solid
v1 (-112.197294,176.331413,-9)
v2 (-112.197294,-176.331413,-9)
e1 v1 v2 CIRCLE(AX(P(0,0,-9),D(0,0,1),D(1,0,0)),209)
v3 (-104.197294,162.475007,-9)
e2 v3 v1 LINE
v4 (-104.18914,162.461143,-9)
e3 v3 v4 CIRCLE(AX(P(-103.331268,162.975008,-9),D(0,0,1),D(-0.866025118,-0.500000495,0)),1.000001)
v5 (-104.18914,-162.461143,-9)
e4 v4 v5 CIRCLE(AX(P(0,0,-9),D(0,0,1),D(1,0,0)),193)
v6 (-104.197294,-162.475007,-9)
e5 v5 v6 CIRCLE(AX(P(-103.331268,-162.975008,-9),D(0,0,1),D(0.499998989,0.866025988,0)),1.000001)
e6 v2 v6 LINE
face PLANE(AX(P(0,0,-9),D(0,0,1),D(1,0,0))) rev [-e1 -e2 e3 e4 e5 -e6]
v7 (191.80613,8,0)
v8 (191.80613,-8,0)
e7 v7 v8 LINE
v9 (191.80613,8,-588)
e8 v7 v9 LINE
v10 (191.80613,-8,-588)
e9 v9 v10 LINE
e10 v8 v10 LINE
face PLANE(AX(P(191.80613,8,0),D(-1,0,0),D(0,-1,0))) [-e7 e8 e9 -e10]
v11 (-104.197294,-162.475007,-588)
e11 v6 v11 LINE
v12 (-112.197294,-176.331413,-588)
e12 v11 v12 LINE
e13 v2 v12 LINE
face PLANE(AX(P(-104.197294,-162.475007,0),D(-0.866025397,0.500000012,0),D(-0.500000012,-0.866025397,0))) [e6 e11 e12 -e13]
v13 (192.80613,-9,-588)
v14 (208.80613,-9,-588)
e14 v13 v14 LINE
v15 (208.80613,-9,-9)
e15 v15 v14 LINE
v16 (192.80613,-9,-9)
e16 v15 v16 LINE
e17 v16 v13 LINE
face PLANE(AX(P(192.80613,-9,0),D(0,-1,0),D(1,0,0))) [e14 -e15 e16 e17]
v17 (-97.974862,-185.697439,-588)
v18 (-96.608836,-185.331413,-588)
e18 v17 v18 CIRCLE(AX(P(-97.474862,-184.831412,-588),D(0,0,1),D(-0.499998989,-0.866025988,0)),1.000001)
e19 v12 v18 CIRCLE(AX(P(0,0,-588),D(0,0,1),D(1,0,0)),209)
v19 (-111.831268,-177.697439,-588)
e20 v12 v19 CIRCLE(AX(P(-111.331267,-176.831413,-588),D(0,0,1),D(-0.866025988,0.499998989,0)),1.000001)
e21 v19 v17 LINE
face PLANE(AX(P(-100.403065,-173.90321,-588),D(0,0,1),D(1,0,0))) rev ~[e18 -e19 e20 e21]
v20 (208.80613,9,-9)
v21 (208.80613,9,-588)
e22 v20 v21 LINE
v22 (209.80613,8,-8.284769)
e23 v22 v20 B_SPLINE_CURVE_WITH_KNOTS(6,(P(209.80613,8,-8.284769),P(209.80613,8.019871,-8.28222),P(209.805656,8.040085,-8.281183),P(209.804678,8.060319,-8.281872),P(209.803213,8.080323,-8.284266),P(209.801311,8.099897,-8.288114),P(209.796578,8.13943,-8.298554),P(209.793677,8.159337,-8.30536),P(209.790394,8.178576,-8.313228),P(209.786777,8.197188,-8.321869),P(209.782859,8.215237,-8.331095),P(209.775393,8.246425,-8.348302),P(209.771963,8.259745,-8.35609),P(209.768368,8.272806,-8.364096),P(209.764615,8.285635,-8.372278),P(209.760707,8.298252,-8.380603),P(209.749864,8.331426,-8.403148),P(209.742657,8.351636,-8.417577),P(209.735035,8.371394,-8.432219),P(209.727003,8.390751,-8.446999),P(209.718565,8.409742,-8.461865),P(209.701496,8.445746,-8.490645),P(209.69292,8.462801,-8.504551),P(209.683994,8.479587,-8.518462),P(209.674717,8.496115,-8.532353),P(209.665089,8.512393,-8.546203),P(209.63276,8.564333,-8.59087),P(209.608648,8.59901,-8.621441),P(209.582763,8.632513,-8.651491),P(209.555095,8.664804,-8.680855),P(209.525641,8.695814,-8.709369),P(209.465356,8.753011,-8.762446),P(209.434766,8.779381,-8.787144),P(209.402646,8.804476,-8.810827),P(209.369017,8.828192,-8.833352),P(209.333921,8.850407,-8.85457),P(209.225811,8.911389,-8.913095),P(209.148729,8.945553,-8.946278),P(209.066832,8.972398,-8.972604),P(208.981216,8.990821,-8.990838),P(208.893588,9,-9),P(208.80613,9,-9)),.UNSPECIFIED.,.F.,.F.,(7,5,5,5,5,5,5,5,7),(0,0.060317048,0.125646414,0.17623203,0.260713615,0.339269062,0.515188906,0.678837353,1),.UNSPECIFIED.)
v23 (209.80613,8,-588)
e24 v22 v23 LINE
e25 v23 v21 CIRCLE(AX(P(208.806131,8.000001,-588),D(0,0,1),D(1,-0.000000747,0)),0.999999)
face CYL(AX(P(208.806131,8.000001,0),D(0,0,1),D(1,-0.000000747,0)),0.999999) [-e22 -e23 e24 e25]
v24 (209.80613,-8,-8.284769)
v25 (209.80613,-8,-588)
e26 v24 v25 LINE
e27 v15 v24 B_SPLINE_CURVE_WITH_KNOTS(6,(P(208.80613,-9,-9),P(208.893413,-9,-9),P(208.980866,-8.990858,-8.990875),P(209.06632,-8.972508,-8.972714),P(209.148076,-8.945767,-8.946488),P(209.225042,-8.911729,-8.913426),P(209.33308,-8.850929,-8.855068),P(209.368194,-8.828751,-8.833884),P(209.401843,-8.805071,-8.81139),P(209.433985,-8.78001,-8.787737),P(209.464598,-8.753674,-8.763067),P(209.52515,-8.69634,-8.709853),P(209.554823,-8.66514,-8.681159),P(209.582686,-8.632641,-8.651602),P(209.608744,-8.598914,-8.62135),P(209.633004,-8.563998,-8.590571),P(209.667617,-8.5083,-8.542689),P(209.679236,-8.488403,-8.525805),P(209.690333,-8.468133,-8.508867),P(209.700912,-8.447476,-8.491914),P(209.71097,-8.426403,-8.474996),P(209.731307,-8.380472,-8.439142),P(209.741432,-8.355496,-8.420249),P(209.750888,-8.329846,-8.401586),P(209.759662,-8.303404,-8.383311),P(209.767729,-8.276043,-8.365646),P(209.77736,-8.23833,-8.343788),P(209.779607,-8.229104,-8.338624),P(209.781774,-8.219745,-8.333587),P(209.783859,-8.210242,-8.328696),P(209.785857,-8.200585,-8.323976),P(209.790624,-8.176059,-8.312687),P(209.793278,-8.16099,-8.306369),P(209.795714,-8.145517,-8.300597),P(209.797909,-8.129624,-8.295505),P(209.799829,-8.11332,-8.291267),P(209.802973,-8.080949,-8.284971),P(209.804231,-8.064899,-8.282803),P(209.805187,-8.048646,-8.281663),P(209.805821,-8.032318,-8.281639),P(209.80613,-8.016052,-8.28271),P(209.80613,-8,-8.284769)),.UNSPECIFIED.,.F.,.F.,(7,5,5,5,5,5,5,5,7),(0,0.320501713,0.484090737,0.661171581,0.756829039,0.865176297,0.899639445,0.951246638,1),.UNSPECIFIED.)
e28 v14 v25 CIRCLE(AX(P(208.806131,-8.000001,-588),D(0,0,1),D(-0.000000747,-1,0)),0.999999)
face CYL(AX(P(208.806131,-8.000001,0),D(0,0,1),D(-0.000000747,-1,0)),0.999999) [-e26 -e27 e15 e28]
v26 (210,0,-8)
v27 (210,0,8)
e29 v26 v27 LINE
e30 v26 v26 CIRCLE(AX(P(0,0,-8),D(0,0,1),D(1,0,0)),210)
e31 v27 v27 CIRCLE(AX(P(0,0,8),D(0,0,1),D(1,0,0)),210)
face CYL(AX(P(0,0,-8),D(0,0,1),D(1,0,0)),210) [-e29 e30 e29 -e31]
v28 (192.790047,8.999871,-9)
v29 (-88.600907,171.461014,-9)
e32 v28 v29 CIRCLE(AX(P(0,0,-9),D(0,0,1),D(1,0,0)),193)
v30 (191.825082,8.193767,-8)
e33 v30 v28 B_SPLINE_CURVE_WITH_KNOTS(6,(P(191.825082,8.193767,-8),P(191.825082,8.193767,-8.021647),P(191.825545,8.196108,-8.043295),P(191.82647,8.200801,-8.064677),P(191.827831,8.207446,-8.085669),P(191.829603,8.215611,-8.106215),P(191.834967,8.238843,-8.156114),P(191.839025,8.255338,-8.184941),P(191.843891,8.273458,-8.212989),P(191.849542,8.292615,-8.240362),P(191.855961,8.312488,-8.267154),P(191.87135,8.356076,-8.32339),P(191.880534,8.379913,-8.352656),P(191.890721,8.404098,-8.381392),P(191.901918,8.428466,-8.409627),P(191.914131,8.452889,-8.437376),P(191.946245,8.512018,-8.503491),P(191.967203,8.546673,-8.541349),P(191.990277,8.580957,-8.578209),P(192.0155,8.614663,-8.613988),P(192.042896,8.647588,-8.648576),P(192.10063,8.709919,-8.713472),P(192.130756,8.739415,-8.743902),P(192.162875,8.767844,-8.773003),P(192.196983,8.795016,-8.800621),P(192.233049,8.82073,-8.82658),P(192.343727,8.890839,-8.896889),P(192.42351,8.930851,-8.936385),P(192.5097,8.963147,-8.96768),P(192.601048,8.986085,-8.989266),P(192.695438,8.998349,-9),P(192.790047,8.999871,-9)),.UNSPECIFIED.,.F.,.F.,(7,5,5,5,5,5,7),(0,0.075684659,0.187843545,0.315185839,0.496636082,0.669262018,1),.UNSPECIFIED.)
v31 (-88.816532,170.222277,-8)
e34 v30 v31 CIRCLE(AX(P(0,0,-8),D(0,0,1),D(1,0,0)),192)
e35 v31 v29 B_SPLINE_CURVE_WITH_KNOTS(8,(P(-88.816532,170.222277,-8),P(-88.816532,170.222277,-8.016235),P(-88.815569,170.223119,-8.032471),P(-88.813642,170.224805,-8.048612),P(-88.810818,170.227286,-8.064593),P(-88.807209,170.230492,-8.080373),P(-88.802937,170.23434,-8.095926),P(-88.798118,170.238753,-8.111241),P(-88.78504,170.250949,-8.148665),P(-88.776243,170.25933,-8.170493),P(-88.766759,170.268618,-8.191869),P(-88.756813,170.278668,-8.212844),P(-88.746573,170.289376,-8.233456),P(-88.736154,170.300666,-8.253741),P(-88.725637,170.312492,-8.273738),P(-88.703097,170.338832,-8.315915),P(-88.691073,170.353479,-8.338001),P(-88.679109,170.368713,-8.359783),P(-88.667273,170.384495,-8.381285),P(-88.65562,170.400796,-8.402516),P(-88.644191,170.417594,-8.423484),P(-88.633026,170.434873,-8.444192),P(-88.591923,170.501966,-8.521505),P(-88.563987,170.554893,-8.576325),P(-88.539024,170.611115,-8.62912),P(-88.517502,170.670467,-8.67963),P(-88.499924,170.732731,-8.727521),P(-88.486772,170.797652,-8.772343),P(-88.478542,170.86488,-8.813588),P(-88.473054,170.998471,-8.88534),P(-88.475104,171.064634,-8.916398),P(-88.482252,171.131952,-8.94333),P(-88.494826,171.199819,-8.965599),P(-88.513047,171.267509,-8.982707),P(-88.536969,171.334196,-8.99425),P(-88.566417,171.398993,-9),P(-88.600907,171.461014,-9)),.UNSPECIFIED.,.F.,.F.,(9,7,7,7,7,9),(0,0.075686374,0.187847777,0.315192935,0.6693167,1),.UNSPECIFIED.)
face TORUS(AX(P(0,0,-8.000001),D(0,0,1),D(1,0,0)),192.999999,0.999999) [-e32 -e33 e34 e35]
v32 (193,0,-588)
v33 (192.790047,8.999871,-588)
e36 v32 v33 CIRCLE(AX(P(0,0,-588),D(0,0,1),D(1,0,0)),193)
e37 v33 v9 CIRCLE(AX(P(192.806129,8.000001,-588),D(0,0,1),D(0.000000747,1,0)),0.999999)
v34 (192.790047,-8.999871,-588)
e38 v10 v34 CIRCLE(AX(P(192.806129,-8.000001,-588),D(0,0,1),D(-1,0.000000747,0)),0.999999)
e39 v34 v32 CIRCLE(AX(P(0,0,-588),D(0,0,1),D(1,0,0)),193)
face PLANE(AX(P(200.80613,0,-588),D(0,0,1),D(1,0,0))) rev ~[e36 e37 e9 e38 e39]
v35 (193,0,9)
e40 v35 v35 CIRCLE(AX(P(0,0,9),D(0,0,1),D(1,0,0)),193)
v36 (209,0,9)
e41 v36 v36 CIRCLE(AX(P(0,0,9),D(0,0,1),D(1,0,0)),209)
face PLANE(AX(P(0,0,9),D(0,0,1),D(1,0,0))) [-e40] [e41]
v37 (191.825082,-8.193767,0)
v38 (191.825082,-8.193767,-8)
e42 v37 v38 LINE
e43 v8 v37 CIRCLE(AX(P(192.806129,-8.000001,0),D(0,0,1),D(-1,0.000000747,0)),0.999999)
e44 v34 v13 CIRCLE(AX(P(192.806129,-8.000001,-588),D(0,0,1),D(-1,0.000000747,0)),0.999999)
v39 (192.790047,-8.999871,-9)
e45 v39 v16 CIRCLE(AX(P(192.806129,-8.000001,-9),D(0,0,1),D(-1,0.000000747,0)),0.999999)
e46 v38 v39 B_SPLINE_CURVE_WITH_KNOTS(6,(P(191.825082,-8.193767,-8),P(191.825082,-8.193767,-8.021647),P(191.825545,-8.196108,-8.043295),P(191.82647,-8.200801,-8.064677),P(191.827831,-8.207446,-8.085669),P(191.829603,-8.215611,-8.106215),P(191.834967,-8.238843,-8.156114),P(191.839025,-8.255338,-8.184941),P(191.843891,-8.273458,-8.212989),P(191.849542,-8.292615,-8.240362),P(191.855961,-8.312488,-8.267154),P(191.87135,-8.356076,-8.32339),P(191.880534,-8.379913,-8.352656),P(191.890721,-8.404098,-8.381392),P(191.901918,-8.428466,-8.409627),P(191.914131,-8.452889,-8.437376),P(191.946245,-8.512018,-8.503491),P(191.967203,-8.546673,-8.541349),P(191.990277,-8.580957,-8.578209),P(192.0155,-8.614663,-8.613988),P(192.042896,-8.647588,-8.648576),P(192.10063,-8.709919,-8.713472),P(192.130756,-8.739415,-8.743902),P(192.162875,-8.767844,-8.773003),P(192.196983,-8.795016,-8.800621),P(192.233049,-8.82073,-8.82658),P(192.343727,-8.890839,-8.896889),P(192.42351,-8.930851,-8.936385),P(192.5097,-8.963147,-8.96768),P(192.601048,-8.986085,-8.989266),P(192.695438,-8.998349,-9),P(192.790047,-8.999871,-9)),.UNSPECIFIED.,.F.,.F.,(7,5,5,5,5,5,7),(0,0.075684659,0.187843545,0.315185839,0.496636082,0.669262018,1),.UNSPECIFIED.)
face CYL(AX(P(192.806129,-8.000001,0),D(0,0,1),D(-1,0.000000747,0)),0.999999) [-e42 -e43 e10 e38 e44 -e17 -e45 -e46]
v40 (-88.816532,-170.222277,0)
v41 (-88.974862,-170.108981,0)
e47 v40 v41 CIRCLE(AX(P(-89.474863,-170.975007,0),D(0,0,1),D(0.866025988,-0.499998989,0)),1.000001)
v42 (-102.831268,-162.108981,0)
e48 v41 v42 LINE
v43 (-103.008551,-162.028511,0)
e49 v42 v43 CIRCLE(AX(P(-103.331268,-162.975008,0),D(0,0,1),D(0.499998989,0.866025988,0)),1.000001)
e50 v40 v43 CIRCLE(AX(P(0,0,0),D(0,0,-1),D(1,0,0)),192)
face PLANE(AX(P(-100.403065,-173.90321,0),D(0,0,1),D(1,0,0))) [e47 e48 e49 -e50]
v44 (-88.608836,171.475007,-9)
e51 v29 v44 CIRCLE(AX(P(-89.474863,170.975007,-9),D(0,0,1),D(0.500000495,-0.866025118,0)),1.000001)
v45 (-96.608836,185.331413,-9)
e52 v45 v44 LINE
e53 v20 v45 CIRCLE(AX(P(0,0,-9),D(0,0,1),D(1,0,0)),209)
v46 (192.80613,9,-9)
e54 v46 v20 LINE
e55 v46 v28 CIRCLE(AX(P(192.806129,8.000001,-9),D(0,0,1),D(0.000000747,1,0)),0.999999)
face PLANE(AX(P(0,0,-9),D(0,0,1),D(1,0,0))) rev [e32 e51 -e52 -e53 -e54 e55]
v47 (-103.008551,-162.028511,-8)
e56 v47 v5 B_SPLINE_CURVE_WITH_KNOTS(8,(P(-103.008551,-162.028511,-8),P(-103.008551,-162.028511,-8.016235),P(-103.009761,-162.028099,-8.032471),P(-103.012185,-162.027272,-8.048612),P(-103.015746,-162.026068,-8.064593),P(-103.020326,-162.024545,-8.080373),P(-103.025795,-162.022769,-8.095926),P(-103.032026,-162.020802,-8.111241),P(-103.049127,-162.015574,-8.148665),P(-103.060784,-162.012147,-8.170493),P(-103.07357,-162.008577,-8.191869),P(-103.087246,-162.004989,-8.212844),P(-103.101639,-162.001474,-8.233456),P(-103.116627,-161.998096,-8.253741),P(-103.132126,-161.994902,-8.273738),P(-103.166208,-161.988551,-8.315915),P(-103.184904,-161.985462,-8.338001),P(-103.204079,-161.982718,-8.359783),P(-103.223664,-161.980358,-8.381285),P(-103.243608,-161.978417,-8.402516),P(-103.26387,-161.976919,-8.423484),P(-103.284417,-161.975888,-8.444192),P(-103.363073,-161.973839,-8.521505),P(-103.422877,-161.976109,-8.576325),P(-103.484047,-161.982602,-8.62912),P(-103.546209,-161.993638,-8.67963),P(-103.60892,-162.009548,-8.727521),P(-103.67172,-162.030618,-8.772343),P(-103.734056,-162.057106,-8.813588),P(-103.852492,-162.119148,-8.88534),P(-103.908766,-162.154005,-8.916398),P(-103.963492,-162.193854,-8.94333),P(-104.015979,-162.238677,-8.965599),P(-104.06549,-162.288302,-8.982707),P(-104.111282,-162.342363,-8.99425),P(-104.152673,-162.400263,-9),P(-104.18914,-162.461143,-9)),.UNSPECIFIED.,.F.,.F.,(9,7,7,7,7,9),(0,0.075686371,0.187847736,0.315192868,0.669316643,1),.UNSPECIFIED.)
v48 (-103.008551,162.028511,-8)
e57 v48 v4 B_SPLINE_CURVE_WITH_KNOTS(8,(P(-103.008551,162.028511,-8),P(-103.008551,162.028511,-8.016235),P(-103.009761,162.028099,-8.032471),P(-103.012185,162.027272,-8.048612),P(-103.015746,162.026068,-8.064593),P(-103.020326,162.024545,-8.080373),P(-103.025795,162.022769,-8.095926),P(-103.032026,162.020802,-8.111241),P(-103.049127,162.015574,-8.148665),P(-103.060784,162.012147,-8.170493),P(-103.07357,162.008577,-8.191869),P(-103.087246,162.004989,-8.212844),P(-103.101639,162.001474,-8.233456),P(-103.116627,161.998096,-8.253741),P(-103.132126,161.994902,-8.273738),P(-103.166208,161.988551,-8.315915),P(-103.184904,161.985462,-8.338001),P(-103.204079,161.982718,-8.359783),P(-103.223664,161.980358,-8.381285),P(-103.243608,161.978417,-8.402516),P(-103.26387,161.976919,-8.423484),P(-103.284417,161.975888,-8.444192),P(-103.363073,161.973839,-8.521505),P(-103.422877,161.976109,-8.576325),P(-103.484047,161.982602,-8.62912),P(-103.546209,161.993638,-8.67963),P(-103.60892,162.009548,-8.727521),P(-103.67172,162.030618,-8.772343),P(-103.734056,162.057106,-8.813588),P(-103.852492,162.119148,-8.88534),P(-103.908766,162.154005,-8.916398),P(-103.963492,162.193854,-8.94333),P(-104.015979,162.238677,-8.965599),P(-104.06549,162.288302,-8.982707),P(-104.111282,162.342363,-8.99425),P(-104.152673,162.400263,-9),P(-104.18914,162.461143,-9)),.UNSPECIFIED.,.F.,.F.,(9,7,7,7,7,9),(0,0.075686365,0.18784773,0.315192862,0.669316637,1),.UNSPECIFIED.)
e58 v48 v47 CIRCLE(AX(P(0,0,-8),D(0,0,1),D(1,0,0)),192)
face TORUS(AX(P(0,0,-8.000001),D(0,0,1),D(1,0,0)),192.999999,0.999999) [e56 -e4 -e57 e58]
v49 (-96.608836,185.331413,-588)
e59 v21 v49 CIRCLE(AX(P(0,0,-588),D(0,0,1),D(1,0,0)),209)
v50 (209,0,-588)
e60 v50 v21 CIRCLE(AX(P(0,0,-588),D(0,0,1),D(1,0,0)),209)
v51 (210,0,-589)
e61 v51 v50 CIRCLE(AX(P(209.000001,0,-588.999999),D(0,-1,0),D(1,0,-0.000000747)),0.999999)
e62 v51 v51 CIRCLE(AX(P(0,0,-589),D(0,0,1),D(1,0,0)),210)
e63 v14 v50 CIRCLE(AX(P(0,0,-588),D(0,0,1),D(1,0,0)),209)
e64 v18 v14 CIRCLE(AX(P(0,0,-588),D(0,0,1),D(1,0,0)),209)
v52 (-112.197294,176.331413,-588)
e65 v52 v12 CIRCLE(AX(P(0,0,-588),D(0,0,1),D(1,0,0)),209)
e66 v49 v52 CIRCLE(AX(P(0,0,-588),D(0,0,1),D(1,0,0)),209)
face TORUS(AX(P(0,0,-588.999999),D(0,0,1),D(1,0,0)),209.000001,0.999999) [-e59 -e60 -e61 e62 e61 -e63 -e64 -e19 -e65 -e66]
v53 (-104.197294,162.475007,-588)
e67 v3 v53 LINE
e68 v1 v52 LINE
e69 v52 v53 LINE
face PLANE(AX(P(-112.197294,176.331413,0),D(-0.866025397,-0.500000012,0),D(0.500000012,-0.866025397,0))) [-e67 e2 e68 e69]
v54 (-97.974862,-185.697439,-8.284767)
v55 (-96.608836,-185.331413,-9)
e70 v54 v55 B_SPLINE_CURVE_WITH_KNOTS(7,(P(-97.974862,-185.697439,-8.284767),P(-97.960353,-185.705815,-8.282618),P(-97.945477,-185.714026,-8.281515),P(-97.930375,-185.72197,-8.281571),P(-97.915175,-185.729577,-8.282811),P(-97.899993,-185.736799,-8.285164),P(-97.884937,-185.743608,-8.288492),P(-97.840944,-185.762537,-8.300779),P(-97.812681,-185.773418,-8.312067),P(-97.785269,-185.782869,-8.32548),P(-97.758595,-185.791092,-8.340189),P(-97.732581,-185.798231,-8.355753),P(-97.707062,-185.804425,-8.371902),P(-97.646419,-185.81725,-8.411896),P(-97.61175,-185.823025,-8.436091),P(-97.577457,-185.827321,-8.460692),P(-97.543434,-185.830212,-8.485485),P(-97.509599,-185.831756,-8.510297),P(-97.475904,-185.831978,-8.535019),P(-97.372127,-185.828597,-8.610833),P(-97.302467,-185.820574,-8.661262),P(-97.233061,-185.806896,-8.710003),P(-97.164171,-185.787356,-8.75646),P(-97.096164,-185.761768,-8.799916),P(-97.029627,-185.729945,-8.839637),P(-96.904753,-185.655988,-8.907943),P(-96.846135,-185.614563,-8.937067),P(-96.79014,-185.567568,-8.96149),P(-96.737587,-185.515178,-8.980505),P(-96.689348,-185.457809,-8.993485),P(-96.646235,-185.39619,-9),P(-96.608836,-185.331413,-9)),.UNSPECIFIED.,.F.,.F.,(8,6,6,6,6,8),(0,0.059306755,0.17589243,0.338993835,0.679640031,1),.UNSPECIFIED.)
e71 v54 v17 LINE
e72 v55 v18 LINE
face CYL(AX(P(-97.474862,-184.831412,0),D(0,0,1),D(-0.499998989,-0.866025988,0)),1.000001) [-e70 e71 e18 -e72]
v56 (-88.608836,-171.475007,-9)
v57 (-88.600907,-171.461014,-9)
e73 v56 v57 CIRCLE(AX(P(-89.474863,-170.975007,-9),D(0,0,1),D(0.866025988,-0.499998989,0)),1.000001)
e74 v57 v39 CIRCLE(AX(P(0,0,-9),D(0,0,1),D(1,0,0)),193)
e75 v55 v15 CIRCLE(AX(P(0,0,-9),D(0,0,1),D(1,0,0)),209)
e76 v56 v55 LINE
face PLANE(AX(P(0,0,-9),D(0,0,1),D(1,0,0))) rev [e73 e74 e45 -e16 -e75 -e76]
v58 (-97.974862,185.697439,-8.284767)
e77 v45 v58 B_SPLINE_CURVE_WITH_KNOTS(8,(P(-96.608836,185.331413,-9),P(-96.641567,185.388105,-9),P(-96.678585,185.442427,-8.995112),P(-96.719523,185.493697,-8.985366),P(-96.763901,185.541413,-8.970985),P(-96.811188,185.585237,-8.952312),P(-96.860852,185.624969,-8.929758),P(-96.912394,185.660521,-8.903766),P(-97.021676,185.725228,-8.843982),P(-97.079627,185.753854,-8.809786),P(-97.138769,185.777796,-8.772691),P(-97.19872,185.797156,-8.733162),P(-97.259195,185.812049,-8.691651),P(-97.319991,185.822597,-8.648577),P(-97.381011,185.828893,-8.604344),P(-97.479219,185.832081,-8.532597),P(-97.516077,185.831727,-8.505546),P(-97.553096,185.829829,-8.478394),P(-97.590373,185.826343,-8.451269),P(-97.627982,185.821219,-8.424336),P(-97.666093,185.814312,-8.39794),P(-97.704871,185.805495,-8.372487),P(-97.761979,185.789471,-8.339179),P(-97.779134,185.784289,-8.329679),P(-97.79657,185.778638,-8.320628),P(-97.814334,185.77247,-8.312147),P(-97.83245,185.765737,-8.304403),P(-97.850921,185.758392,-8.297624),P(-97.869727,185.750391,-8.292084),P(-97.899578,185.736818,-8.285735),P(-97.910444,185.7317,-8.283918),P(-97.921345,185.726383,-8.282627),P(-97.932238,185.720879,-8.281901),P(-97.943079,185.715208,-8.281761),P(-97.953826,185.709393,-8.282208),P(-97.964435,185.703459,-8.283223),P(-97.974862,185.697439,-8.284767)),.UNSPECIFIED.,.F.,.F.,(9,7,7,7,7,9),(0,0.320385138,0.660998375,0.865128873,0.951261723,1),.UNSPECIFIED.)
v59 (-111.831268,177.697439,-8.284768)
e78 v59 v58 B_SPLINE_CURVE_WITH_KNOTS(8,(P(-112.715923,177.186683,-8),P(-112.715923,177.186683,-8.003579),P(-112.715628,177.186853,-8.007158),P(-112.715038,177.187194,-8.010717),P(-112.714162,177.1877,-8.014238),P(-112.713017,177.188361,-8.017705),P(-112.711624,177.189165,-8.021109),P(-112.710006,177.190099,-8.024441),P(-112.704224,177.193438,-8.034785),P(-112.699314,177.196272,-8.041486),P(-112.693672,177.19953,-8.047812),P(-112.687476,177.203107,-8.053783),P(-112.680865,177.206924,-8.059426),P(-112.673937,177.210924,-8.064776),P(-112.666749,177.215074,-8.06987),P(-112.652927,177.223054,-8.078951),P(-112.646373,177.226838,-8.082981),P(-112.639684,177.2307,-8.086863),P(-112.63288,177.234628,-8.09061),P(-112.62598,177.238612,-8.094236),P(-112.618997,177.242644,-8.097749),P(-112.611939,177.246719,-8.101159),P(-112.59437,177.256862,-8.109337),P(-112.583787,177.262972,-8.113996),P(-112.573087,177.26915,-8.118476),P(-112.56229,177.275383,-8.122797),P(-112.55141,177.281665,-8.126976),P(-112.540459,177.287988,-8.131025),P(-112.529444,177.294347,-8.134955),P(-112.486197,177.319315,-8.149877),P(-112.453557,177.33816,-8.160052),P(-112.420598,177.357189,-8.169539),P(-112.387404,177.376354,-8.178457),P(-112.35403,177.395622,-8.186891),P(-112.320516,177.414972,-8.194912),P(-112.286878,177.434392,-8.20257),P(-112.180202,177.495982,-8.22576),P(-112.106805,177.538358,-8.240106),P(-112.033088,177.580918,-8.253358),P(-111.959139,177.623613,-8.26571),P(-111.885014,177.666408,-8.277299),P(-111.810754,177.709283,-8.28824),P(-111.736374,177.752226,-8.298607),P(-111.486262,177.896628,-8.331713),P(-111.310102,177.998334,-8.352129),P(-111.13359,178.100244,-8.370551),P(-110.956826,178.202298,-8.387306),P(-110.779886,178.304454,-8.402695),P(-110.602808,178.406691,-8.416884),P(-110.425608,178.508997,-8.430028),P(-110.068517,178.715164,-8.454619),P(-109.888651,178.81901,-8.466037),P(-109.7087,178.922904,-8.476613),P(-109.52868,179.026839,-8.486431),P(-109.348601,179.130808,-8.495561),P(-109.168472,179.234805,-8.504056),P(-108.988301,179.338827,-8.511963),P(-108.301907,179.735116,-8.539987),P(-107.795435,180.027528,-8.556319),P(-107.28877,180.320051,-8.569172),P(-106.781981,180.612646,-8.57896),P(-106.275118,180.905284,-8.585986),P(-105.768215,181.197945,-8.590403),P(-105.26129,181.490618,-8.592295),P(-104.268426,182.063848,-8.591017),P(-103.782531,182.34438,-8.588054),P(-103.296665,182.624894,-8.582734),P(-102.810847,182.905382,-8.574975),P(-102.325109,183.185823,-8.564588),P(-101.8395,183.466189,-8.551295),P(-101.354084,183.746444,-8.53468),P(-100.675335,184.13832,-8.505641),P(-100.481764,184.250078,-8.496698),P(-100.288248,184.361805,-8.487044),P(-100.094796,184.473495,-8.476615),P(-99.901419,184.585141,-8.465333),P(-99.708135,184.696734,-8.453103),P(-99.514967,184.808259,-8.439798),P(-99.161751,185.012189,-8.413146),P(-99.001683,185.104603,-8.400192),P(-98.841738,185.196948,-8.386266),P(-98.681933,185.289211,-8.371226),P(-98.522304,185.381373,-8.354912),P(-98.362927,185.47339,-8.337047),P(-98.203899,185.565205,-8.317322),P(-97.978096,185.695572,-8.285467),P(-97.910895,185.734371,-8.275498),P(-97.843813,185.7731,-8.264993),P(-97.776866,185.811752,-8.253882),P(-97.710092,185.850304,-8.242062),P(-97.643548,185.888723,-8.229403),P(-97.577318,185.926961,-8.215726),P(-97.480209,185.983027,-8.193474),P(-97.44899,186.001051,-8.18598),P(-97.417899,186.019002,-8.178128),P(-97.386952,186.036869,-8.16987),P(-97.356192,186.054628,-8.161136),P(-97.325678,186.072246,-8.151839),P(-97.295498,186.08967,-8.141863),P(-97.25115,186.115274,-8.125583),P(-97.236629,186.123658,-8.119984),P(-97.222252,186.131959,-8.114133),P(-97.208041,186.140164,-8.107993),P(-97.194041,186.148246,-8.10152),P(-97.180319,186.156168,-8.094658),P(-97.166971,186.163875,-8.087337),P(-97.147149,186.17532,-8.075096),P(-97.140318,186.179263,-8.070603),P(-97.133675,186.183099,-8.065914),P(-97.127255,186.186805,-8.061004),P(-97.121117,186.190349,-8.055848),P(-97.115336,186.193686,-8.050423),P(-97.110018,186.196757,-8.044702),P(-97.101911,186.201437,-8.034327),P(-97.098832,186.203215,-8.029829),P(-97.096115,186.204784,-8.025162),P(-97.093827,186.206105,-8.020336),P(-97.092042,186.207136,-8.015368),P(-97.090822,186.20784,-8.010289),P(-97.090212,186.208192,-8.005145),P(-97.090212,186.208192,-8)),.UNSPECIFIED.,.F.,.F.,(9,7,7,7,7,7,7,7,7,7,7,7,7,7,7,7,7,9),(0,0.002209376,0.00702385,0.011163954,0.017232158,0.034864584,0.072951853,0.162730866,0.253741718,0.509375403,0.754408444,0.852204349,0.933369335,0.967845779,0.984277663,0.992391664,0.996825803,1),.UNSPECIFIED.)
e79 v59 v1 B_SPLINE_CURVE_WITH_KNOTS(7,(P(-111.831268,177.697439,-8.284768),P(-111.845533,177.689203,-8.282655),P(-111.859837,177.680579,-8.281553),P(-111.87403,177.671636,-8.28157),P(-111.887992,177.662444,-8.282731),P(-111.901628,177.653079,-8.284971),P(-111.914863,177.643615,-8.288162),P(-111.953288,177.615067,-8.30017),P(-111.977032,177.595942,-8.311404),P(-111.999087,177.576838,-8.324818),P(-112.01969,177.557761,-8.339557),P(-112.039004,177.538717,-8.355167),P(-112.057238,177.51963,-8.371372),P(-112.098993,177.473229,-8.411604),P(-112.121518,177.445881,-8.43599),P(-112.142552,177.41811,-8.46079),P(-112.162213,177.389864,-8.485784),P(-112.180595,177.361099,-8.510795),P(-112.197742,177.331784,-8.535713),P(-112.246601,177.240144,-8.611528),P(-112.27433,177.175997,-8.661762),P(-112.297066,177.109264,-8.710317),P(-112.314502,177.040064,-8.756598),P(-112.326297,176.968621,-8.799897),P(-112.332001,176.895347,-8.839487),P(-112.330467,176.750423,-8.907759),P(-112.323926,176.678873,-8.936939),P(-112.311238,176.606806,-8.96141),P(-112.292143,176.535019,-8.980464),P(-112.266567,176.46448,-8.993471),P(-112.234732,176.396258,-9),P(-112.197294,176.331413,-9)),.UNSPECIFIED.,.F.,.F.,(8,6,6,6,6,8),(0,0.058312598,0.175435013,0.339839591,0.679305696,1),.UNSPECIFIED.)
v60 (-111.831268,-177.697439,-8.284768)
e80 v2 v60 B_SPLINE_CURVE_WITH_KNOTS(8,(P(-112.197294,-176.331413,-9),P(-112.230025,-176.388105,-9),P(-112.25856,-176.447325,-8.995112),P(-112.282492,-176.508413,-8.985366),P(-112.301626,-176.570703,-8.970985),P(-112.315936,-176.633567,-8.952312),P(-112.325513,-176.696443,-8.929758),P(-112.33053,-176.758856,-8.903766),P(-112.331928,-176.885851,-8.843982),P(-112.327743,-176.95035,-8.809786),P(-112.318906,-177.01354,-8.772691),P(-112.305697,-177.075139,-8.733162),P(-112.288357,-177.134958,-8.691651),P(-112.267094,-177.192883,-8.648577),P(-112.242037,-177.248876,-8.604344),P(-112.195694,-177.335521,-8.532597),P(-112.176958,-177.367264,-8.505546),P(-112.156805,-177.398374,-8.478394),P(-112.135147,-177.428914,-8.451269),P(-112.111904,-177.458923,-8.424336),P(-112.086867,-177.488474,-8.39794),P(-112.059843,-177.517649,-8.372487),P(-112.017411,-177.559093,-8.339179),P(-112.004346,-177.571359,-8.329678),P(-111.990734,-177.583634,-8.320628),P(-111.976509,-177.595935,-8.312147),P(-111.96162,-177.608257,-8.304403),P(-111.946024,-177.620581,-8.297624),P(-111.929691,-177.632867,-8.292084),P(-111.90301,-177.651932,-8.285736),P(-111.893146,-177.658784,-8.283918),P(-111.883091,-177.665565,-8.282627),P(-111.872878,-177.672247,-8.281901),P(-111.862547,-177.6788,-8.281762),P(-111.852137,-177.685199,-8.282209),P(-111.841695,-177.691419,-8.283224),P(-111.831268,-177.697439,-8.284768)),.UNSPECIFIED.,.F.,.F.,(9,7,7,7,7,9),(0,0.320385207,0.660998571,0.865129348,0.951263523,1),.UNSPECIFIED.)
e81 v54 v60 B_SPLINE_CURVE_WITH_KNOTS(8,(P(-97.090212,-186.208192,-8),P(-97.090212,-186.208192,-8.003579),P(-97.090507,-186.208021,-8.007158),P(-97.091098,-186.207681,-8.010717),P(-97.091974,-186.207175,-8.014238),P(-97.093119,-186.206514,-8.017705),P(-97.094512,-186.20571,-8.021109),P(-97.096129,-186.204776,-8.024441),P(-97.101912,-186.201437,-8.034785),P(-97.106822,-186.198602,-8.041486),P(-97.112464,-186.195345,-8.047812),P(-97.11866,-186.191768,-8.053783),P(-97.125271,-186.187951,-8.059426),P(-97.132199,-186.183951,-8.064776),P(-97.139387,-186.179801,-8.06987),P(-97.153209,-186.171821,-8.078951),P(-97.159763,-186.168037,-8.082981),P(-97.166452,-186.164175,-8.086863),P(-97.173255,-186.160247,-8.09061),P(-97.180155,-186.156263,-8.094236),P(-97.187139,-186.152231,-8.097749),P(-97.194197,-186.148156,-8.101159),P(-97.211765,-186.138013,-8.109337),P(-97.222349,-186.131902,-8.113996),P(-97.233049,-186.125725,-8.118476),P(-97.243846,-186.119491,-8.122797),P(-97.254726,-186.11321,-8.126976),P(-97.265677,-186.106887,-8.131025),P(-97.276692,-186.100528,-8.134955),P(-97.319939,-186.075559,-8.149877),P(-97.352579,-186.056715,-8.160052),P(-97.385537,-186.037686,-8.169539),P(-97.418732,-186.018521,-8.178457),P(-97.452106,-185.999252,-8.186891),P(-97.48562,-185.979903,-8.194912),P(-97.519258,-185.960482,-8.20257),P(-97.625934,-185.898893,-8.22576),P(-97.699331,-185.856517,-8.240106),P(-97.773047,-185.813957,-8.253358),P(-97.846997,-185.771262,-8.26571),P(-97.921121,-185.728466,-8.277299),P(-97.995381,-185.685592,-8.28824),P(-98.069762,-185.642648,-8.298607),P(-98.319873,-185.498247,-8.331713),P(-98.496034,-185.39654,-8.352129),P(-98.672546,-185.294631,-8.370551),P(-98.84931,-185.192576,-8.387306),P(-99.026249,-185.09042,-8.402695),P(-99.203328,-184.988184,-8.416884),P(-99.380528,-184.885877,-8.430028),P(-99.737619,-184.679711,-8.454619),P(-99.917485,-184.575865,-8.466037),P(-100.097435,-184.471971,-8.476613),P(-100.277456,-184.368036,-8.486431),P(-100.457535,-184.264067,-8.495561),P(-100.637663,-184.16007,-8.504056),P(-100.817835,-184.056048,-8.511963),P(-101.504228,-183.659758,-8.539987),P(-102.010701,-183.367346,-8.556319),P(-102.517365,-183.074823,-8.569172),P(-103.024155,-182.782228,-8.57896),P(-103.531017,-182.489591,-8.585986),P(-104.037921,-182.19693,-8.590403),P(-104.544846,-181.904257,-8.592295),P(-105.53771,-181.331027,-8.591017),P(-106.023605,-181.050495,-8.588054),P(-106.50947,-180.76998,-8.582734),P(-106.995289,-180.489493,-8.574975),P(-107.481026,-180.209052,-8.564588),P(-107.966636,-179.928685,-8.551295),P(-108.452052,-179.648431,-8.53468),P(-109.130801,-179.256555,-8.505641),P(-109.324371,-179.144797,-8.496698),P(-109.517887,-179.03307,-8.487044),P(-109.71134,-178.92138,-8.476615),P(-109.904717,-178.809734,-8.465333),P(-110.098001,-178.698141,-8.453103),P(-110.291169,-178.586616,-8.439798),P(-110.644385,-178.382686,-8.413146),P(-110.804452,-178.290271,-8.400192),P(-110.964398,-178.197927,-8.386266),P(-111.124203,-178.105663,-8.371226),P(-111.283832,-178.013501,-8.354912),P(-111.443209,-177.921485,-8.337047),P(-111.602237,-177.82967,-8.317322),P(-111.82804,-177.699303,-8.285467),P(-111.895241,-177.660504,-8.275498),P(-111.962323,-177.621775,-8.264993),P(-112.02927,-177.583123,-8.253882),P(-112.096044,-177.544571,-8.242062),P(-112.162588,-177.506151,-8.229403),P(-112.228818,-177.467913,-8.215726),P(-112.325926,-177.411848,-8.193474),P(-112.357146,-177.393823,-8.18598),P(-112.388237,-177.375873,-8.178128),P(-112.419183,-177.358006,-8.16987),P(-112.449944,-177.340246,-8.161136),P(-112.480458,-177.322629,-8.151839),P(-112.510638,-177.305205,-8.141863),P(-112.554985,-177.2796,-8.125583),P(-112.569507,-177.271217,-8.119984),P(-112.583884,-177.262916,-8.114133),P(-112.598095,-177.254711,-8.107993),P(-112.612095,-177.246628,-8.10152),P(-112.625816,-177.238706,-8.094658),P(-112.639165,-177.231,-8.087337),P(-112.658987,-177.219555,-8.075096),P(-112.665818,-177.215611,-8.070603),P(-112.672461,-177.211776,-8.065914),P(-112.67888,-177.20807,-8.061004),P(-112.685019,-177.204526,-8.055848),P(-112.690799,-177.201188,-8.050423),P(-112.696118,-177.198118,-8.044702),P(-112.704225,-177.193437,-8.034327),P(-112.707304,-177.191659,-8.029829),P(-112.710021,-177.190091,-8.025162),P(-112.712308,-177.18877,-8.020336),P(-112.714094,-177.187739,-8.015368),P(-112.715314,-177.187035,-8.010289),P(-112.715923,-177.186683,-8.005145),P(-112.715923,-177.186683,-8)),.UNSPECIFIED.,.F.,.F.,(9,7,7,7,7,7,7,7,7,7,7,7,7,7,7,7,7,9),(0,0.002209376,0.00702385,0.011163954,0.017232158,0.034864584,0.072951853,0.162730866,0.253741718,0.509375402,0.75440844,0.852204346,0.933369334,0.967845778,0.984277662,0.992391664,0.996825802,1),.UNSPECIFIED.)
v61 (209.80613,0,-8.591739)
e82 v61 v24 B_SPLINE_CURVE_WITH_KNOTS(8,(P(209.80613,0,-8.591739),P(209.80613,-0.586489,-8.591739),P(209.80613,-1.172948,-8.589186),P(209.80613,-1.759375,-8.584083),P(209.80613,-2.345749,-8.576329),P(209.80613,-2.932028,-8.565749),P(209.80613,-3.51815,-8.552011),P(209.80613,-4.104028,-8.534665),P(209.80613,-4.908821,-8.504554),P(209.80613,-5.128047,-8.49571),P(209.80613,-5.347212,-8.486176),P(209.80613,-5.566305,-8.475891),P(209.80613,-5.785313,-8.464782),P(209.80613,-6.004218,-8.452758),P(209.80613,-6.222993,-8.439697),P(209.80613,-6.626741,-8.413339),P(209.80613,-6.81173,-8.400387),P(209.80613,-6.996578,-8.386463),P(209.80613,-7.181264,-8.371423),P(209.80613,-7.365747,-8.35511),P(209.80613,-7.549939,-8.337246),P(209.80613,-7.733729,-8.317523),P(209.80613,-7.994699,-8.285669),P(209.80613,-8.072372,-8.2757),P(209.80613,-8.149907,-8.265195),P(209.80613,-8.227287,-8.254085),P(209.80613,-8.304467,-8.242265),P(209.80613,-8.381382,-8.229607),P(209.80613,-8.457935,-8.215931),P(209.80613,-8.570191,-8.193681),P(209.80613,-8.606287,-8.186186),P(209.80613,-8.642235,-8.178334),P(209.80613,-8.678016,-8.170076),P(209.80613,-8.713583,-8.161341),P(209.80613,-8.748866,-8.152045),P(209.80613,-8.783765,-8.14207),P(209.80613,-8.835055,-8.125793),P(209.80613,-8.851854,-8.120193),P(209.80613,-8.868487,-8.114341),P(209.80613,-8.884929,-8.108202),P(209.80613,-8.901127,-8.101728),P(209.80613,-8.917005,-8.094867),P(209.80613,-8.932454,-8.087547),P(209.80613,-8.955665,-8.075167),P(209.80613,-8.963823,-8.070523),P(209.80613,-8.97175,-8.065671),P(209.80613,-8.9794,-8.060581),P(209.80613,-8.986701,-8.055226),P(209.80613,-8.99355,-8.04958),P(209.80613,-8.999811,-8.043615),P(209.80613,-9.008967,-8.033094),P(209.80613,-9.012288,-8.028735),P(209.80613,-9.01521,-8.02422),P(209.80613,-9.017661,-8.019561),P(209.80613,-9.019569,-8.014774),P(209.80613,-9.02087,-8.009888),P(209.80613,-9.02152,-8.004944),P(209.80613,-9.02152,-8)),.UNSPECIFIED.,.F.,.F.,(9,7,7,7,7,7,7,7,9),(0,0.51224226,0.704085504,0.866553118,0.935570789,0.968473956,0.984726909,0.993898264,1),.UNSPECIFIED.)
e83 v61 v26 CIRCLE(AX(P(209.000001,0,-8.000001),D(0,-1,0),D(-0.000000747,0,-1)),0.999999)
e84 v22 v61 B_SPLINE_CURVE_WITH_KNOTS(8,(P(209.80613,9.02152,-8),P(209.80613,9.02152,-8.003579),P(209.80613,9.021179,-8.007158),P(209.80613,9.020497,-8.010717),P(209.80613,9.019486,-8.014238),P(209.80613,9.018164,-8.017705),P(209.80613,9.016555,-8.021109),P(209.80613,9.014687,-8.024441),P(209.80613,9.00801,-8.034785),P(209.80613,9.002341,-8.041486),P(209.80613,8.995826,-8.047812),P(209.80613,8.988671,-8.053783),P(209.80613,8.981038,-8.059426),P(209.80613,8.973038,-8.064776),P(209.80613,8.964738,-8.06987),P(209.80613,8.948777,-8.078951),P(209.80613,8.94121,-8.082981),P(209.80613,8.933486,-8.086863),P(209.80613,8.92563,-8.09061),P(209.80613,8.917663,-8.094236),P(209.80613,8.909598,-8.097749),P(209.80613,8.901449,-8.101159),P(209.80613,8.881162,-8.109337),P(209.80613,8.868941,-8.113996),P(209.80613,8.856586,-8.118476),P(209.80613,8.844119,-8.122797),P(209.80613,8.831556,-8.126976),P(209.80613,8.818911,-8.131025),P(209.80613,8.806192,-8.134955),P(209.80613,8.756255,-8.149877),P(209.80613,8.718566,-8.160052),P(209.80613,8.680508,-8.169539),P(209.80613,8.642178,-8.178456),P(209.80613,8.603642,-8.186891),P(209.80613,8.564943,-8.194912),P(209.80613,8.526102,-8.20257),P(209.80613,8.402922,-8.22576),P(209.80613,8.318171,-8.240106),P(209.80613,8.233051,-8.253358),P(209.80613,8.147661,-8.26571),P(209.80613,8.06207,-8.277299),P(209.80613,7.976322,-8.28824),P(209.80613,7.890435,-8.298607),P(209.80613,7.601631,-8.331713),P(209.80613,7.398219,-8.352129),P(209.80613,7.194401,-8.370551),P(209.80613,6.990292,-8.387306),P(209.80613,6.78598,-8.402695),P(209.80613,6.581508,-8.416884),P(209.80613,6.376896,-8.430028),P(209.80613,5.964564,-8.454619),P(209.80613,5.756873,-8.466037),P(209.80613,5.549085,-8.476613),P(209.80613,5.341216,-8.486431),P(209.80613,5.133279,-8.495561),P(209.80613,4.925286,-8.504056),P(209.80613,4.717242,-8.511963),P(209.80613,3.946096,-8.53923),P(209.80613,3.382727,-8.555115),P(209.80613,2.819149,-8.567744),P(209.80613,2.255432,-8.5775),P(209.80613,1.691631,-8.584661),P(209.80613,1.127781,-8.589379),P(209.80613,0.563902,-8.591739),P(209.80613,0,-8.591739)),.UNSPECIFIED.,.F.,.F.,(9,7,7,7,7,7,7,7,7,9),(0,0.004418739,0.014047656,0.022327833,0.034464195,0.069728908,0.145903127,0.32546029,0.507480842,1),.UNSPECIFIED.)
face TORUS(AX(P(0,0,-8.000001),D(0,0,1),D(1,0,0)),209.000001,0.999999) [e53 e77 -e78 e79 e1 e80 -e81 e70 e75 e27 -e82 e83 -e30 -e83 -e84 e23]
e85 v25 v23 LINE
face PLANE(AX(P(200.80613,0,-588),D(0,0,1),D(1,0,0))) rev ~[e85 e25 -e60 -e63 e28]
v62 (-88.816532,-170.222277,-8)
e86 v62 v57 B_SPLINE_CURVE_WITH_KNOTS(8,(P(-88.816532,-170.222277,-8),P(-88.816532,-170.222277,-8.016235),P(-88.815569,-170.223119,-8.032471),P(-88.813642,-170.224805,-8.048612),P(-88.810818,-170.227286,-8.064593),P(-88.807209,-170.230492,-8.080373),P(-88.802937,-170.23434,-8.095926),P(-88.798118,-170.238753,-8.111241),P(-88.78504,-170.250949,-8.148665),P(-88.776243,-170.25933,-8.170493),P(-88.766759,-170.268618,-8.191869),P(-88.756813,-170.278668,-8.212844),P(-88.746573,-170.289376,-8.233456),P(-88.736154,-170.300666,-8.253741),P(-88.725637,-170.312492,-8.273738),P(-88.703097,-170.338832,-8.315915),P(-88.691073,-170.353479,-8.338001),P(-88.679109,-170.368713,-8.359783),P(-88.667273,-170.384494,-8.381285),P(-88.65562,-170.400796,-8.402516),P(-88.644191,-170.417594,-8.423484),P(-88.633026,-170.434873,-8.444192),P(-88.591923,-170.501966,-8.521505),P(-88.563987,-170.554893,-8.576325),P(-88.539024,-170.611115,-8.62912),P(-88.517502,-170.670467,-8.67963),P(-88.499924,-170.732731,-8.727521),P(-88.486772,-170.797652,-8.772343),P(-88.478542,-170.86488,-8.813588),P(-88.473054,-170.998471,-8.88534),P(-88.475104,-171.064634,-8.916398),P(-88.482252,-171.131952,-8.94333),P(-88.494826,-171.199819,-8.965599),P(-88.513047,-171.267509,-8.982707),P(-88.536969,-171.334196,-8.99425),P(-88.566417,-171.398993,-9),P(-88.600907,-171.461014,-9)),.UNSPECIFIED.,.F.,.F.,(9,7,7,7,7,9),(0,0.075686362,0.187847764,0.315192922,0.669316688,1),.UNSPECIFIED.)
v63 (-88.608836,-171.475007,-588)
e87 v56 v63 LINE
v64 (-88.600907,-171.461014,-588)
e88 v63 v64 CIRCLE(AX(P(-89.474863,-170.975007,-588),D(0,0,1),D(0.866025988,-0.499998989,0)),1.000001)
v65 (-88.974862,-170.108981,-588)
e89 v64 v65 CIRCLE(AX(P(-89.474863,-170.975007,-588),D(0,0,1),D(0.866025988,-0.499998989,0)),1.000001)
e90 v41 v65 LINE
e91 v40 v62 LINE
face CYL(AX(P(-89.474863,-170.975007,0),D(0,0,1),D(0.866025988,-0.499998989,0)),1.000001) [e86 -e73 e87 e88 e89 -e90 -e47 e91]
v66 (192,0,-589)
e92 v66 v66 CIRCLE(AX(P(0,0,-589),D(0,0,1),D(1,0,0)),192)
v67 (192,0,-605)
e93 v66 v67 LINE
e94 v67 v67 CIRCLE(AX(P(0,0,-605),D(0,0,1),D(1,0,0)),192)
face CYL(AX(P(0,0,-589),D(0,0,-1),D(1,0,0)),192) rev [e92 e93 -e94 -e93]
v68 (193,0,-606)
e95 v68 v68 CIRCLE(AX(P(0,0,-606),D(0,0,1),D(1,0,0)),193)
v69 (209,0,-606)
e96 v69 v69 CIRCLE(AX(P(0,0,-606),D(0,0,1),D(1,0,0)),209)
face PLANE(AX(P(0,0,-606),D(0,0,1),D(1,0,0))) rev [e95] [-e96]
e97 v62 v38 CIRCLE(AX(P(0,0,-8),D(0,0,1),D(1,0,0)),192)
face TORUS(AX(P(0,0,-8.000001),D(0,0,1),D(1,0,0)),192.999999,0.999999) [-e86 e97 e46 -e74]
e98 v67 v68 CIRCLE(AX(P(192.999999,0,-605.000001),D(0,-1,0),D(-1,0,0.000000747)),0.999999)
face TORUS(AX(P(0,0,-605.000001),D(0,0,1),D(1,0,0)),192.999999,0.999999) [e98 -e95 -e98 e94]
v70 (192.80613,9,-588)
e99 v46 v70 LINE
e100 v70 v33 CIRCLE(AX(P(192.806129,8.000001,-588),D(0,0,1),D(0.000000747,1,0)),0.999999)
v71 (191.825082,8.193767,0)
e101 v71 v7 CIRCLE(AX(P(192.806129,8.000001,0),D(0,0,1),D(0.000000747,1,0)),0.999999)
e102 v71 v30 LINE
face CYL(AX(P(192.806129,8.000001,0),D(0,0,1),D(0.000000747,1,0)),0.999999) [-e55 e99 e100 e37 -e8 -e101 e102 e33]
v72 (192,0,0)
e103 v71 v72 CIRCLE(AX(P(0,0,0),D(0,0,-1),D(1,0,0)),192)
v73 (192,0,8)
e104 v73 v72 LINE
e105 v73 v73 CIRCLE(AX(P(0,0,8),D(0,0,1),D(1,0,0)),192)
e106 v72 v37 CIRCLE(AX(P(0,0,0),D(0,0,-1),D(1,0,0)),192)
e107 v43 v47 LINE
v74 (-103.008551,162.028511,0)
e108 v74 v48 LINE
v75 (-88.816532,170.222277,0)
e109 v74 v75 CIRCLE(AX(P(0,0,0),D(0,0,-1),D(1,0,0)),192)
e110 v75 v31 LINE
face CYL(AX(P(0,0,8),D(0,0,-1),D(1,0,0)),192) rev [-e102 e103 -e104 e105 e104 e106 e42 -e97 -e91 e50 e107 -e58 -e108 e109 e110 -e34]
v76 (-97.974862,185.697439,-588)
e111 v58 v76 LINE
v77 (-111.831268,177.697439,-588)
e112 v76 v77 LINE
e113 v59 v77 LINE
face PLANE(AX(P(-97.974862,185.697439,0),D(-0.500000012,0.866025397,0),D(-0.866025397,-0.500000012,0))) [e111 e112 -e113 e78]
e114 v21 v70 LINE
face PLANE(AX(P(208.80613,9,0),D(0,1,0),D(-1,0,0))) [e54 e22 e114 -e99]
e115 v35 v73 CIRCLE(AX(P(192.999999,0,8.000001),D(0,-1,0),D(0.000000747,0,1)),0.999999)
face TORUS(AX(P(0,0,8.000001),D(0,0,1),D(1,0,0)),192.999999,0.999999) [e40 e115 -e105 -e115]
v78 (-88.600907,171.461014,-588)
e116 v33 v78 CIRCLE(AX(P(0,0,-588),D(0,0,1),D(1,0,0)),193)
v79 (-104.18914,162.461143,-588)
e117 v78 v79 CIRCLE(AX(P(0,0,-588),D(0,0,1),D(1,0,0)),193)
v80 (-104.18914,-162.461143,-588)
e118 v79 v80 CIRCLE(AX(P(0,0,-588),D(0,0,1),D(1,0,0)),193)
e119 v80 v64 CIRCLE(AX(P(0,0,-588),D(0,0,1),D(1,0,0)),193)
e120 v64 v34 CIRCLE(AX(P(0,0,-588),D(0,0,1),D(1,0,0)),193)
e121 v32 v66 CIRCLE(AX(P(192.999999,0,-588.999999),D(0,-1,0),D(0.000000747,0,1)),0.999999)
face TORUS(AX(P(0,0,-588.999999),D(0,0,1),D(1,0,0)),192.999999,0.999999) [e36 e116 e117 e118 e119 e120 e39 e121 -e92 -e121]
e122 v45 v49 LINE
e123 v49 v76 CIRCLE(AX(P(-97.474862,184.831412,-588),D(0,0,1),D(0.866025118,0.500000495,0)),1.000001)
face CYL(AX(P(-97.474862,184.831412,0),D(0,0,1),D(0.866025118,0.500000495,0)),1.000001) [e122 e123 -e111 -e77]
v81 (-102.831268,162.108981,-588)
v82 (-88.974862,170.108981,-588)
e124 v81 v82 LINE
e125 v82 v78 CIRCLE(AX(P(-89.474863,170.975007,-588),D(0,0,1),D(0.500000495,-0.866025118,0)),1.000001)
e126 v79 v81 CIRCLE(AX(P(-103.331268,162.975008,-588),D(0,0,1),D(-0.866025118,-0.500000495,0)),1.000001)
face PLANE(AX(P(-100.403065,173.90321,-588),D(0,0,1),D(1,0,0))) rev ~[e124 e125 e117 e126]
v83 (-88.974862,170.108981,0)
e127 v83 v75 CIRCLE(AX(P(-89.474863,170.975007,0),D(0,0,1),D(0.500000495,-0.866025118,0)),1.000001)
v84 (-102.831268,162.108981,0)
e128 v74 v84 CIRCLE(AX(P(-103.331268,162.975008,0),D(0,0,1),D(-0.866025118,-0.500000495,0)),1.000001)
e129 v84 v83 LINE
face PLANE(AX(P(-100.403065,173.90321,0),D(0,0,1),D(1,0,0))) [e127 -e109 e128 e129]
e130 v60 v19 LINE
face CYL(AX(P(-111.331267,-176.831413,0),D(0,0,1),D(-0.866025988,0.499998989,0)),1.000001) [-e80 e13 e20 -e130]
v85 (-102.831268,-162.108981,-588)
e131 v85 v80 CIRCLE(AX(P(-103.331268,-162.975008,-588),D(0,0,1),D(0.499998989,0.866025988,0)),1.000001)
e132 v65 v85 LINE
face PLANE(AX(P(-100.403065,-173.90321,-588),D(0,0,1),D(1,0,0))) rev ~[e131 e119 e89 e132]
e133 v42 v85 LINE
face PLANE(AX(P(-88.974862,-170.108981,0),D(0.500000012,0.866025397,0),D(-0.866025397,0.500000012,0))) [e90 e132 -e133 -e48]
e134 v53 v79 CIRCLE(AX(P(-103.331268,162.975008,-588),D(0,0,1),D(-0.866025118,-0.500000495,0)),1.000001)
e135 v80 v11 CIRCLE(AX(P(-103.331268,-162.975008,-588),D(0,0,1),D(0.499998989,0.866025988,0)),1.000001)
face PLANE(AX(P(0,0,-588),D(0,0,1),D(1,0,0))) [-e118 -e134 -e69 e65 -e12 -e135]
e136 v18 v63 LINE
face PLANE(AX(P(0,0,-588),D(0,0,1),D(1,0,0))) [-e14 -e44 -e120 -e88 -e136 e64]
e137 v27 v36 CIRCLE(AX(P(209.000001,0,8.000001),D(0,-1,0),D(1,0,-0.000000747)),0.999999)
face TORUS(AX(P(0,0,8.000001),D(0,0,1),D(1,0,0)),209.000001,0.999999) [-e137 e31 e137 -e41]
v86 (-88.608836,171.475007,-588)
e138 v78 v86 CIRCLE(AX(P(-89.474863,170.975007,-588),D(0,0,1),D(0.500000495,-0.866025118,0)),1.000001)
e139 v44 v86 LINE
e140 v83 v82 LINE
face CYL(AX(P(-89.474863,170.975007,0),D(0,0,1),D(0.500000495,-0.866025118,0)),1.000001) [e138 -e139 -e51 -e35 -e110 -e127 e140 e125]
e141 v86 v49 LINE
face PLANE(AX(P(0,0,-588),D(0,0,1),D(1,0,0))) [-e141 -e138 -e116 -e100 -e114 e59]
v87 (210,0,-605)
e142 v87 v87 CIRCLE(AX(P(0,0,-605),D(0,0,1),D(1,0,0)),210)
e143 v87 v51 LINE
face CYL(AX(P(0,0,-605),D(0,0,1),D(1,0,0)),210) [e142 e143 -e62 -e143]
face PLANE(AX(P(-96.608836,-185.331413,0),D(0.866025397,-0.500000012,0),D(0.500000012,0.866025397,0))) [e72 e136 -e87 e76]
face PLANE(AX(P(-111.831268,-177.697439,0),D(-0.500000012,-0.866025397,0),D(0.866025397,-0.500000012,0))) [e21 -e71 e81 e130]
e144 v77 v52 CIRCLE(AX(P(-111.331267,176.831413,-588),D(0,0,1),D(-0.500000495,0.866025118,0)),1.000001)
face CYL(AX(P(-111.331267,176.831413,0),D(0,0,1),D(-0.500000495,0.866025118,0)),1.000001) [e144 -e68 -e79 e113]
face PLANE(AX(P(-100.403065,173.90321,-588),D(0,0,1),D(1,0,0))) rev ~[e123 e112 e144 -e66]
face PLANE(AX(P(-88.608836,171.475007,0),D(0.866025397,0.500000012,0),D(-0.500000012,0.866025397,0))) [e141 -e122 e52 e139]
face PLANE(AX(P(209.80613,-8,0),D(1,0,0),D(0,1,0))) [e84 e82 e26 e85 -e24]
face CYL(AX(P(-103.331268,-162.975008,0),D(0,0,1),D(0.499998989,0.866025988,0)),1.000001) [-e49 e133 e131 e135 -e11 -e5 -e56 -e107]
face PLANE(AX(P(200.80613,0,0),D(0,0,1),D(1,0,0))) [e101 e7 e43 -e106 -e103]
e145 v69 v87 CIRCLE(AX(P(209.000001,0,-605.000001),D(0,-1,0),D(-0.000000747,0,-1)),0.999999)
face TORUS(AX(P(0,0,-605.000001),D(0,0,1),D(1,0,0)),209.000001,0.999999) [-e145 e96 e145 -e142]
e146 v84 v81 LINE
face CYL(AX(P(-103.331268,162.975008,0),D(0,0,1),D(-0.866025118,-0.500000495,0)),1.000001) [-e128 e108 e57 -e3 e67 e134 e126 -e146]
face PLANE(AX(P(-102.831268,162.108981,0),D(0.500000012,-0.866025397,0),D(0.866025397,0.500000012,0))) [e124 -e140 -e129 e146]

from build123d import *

# Parameters (mm, degrees)
F3_DEPTH = 588


with BuildPart() as f1:
    # F0 (on Front) → F1 (revolve)
    with BuildSketch(Plane.XZ):
        with BuildLine():
            Line((193, -9), (209, -9))
            ThreePointArc((209, -9), (209.707107, -8.707107), (210, -8))
            Line((210, -8), (210, 8))
            ThreePointArc((210, 8), (209.707107, 8.707107), (209, 9))
            Line((209, 9), (193, 9))
            ThreePointArc((193, 9), (192.292893, 8.707107), (192, 8))
            Line((192, 8), (192, -8))
            ThreePointArc((192, -8), (192.292893, -8.707107), (193, -9))
        make_face()
    revolve(axis=Axis((0, 0, 10), (0, 0, 1)))

    # F2 (on Top) → F3 (join)
    with BuildSketch(Plane.XY):
        with BuildLine():
            Line((192.80613, -9), (208.80613, -9))
            ThreePointArc((208.80613, -9), (209.513237, -8.707107), (209.80613, -8))
            Line((209.80613, -8), (209.80613, 8))
            ThreePointArc((209.80613, 8), (209.513237, 8.707107), (208.80613, 9))
            Line((208.80613, 9), (192.80613, 9))
            ThreePointArc((192.80613, 9), (192.099023, 8.707107), (191.80613, 8))
            Line((191.80613, 8), (191.80613, -8))
            ThreePointArc((191.80613, -8), (192.099023, -8.707107), (192.80613, -9))
        make_face()
        with BuildLine():
            Line((-88.608836, 171.475007), (-96.608836, 185.331413))
            ThreePointArc((-96.608836, 185.331413), (-97.216043, 185.797339), (-97.974862, 185.697439))
            Line((-97.974862, 185.697439), (-111.831268, 177.697439))
            ThreePointArc((-111.831268, 177.697439), (-112.297194, 177.090232), (-112.197294, 176.331413))
            Line((-112.197294, 176.331413), (-104.197294, 162.475007))
            ThreePointArc((-104.197294, 162.475007), (-103.590087, 162.009081), (-102.831268, 162.108981))
            Line((-102.831268, 162.108981), (-88.974862, 170.108981))
            ThreePointArc((-88.974862, 170.108981), (-88.508936, 170.716188), (-88.608836, 171.475007))
        make_face()
        with BuildLine():
            Line((-104.197294, -162.475007), (-112.197294, -176.331413))
            ThreePointArc((-112.197294, -176.331413), (-112.297194, -177.090232), (-111.831268, -177.697439))
            Line((-111.831268, -177.697439), (-97.974862, -185.697439))
            ThreePointArc((-97.974862, -185.697439), (-97.216043, -185.797339), (-96.608836, -185.331413))
            Line((-96.608836, -185.331413), (-88.608836, -171.475007))
            ThreePointArc((-88.608836, -171.475007), (-88.508936, -170.716188), (-88.974862, -170.108981))
            Line((-88.974862, -170.108981), (-102.831268, -162.108981))
            ThreePointArc((-102.831268, -162.108981), (-103.590087, -162.009081), (-104.197294, -162.475007))
        make_face()
    extrude(amount=-F3_DEPTH)

    # F4 (on Front) → F5 (revolve)
    with BuildSketch(Plane.XZ):
        with BuildLine():
            Line((193, -606), (209, -606))
            ThreePointArc((209, -606), (209.707107, -605.707107), (210, -605))
            Line((210, -605), (210, -589))
            ThreePointArc((210, -589), (209.707107, -588.292893), (209, -588))
            Line((209, -588), (193, -588))
            ThreePointArc((193, -588), (192.292893, -588.292893), (192, -589))
            Line((192, -589), (192, -605))
            ThreePointArc((192, -605), (192.292893, -605.707107), (193, -606))
        make_face()
    revolve(axis=Axis((0, 0, 10), (0, 0, 1)))


solid = f1.part
